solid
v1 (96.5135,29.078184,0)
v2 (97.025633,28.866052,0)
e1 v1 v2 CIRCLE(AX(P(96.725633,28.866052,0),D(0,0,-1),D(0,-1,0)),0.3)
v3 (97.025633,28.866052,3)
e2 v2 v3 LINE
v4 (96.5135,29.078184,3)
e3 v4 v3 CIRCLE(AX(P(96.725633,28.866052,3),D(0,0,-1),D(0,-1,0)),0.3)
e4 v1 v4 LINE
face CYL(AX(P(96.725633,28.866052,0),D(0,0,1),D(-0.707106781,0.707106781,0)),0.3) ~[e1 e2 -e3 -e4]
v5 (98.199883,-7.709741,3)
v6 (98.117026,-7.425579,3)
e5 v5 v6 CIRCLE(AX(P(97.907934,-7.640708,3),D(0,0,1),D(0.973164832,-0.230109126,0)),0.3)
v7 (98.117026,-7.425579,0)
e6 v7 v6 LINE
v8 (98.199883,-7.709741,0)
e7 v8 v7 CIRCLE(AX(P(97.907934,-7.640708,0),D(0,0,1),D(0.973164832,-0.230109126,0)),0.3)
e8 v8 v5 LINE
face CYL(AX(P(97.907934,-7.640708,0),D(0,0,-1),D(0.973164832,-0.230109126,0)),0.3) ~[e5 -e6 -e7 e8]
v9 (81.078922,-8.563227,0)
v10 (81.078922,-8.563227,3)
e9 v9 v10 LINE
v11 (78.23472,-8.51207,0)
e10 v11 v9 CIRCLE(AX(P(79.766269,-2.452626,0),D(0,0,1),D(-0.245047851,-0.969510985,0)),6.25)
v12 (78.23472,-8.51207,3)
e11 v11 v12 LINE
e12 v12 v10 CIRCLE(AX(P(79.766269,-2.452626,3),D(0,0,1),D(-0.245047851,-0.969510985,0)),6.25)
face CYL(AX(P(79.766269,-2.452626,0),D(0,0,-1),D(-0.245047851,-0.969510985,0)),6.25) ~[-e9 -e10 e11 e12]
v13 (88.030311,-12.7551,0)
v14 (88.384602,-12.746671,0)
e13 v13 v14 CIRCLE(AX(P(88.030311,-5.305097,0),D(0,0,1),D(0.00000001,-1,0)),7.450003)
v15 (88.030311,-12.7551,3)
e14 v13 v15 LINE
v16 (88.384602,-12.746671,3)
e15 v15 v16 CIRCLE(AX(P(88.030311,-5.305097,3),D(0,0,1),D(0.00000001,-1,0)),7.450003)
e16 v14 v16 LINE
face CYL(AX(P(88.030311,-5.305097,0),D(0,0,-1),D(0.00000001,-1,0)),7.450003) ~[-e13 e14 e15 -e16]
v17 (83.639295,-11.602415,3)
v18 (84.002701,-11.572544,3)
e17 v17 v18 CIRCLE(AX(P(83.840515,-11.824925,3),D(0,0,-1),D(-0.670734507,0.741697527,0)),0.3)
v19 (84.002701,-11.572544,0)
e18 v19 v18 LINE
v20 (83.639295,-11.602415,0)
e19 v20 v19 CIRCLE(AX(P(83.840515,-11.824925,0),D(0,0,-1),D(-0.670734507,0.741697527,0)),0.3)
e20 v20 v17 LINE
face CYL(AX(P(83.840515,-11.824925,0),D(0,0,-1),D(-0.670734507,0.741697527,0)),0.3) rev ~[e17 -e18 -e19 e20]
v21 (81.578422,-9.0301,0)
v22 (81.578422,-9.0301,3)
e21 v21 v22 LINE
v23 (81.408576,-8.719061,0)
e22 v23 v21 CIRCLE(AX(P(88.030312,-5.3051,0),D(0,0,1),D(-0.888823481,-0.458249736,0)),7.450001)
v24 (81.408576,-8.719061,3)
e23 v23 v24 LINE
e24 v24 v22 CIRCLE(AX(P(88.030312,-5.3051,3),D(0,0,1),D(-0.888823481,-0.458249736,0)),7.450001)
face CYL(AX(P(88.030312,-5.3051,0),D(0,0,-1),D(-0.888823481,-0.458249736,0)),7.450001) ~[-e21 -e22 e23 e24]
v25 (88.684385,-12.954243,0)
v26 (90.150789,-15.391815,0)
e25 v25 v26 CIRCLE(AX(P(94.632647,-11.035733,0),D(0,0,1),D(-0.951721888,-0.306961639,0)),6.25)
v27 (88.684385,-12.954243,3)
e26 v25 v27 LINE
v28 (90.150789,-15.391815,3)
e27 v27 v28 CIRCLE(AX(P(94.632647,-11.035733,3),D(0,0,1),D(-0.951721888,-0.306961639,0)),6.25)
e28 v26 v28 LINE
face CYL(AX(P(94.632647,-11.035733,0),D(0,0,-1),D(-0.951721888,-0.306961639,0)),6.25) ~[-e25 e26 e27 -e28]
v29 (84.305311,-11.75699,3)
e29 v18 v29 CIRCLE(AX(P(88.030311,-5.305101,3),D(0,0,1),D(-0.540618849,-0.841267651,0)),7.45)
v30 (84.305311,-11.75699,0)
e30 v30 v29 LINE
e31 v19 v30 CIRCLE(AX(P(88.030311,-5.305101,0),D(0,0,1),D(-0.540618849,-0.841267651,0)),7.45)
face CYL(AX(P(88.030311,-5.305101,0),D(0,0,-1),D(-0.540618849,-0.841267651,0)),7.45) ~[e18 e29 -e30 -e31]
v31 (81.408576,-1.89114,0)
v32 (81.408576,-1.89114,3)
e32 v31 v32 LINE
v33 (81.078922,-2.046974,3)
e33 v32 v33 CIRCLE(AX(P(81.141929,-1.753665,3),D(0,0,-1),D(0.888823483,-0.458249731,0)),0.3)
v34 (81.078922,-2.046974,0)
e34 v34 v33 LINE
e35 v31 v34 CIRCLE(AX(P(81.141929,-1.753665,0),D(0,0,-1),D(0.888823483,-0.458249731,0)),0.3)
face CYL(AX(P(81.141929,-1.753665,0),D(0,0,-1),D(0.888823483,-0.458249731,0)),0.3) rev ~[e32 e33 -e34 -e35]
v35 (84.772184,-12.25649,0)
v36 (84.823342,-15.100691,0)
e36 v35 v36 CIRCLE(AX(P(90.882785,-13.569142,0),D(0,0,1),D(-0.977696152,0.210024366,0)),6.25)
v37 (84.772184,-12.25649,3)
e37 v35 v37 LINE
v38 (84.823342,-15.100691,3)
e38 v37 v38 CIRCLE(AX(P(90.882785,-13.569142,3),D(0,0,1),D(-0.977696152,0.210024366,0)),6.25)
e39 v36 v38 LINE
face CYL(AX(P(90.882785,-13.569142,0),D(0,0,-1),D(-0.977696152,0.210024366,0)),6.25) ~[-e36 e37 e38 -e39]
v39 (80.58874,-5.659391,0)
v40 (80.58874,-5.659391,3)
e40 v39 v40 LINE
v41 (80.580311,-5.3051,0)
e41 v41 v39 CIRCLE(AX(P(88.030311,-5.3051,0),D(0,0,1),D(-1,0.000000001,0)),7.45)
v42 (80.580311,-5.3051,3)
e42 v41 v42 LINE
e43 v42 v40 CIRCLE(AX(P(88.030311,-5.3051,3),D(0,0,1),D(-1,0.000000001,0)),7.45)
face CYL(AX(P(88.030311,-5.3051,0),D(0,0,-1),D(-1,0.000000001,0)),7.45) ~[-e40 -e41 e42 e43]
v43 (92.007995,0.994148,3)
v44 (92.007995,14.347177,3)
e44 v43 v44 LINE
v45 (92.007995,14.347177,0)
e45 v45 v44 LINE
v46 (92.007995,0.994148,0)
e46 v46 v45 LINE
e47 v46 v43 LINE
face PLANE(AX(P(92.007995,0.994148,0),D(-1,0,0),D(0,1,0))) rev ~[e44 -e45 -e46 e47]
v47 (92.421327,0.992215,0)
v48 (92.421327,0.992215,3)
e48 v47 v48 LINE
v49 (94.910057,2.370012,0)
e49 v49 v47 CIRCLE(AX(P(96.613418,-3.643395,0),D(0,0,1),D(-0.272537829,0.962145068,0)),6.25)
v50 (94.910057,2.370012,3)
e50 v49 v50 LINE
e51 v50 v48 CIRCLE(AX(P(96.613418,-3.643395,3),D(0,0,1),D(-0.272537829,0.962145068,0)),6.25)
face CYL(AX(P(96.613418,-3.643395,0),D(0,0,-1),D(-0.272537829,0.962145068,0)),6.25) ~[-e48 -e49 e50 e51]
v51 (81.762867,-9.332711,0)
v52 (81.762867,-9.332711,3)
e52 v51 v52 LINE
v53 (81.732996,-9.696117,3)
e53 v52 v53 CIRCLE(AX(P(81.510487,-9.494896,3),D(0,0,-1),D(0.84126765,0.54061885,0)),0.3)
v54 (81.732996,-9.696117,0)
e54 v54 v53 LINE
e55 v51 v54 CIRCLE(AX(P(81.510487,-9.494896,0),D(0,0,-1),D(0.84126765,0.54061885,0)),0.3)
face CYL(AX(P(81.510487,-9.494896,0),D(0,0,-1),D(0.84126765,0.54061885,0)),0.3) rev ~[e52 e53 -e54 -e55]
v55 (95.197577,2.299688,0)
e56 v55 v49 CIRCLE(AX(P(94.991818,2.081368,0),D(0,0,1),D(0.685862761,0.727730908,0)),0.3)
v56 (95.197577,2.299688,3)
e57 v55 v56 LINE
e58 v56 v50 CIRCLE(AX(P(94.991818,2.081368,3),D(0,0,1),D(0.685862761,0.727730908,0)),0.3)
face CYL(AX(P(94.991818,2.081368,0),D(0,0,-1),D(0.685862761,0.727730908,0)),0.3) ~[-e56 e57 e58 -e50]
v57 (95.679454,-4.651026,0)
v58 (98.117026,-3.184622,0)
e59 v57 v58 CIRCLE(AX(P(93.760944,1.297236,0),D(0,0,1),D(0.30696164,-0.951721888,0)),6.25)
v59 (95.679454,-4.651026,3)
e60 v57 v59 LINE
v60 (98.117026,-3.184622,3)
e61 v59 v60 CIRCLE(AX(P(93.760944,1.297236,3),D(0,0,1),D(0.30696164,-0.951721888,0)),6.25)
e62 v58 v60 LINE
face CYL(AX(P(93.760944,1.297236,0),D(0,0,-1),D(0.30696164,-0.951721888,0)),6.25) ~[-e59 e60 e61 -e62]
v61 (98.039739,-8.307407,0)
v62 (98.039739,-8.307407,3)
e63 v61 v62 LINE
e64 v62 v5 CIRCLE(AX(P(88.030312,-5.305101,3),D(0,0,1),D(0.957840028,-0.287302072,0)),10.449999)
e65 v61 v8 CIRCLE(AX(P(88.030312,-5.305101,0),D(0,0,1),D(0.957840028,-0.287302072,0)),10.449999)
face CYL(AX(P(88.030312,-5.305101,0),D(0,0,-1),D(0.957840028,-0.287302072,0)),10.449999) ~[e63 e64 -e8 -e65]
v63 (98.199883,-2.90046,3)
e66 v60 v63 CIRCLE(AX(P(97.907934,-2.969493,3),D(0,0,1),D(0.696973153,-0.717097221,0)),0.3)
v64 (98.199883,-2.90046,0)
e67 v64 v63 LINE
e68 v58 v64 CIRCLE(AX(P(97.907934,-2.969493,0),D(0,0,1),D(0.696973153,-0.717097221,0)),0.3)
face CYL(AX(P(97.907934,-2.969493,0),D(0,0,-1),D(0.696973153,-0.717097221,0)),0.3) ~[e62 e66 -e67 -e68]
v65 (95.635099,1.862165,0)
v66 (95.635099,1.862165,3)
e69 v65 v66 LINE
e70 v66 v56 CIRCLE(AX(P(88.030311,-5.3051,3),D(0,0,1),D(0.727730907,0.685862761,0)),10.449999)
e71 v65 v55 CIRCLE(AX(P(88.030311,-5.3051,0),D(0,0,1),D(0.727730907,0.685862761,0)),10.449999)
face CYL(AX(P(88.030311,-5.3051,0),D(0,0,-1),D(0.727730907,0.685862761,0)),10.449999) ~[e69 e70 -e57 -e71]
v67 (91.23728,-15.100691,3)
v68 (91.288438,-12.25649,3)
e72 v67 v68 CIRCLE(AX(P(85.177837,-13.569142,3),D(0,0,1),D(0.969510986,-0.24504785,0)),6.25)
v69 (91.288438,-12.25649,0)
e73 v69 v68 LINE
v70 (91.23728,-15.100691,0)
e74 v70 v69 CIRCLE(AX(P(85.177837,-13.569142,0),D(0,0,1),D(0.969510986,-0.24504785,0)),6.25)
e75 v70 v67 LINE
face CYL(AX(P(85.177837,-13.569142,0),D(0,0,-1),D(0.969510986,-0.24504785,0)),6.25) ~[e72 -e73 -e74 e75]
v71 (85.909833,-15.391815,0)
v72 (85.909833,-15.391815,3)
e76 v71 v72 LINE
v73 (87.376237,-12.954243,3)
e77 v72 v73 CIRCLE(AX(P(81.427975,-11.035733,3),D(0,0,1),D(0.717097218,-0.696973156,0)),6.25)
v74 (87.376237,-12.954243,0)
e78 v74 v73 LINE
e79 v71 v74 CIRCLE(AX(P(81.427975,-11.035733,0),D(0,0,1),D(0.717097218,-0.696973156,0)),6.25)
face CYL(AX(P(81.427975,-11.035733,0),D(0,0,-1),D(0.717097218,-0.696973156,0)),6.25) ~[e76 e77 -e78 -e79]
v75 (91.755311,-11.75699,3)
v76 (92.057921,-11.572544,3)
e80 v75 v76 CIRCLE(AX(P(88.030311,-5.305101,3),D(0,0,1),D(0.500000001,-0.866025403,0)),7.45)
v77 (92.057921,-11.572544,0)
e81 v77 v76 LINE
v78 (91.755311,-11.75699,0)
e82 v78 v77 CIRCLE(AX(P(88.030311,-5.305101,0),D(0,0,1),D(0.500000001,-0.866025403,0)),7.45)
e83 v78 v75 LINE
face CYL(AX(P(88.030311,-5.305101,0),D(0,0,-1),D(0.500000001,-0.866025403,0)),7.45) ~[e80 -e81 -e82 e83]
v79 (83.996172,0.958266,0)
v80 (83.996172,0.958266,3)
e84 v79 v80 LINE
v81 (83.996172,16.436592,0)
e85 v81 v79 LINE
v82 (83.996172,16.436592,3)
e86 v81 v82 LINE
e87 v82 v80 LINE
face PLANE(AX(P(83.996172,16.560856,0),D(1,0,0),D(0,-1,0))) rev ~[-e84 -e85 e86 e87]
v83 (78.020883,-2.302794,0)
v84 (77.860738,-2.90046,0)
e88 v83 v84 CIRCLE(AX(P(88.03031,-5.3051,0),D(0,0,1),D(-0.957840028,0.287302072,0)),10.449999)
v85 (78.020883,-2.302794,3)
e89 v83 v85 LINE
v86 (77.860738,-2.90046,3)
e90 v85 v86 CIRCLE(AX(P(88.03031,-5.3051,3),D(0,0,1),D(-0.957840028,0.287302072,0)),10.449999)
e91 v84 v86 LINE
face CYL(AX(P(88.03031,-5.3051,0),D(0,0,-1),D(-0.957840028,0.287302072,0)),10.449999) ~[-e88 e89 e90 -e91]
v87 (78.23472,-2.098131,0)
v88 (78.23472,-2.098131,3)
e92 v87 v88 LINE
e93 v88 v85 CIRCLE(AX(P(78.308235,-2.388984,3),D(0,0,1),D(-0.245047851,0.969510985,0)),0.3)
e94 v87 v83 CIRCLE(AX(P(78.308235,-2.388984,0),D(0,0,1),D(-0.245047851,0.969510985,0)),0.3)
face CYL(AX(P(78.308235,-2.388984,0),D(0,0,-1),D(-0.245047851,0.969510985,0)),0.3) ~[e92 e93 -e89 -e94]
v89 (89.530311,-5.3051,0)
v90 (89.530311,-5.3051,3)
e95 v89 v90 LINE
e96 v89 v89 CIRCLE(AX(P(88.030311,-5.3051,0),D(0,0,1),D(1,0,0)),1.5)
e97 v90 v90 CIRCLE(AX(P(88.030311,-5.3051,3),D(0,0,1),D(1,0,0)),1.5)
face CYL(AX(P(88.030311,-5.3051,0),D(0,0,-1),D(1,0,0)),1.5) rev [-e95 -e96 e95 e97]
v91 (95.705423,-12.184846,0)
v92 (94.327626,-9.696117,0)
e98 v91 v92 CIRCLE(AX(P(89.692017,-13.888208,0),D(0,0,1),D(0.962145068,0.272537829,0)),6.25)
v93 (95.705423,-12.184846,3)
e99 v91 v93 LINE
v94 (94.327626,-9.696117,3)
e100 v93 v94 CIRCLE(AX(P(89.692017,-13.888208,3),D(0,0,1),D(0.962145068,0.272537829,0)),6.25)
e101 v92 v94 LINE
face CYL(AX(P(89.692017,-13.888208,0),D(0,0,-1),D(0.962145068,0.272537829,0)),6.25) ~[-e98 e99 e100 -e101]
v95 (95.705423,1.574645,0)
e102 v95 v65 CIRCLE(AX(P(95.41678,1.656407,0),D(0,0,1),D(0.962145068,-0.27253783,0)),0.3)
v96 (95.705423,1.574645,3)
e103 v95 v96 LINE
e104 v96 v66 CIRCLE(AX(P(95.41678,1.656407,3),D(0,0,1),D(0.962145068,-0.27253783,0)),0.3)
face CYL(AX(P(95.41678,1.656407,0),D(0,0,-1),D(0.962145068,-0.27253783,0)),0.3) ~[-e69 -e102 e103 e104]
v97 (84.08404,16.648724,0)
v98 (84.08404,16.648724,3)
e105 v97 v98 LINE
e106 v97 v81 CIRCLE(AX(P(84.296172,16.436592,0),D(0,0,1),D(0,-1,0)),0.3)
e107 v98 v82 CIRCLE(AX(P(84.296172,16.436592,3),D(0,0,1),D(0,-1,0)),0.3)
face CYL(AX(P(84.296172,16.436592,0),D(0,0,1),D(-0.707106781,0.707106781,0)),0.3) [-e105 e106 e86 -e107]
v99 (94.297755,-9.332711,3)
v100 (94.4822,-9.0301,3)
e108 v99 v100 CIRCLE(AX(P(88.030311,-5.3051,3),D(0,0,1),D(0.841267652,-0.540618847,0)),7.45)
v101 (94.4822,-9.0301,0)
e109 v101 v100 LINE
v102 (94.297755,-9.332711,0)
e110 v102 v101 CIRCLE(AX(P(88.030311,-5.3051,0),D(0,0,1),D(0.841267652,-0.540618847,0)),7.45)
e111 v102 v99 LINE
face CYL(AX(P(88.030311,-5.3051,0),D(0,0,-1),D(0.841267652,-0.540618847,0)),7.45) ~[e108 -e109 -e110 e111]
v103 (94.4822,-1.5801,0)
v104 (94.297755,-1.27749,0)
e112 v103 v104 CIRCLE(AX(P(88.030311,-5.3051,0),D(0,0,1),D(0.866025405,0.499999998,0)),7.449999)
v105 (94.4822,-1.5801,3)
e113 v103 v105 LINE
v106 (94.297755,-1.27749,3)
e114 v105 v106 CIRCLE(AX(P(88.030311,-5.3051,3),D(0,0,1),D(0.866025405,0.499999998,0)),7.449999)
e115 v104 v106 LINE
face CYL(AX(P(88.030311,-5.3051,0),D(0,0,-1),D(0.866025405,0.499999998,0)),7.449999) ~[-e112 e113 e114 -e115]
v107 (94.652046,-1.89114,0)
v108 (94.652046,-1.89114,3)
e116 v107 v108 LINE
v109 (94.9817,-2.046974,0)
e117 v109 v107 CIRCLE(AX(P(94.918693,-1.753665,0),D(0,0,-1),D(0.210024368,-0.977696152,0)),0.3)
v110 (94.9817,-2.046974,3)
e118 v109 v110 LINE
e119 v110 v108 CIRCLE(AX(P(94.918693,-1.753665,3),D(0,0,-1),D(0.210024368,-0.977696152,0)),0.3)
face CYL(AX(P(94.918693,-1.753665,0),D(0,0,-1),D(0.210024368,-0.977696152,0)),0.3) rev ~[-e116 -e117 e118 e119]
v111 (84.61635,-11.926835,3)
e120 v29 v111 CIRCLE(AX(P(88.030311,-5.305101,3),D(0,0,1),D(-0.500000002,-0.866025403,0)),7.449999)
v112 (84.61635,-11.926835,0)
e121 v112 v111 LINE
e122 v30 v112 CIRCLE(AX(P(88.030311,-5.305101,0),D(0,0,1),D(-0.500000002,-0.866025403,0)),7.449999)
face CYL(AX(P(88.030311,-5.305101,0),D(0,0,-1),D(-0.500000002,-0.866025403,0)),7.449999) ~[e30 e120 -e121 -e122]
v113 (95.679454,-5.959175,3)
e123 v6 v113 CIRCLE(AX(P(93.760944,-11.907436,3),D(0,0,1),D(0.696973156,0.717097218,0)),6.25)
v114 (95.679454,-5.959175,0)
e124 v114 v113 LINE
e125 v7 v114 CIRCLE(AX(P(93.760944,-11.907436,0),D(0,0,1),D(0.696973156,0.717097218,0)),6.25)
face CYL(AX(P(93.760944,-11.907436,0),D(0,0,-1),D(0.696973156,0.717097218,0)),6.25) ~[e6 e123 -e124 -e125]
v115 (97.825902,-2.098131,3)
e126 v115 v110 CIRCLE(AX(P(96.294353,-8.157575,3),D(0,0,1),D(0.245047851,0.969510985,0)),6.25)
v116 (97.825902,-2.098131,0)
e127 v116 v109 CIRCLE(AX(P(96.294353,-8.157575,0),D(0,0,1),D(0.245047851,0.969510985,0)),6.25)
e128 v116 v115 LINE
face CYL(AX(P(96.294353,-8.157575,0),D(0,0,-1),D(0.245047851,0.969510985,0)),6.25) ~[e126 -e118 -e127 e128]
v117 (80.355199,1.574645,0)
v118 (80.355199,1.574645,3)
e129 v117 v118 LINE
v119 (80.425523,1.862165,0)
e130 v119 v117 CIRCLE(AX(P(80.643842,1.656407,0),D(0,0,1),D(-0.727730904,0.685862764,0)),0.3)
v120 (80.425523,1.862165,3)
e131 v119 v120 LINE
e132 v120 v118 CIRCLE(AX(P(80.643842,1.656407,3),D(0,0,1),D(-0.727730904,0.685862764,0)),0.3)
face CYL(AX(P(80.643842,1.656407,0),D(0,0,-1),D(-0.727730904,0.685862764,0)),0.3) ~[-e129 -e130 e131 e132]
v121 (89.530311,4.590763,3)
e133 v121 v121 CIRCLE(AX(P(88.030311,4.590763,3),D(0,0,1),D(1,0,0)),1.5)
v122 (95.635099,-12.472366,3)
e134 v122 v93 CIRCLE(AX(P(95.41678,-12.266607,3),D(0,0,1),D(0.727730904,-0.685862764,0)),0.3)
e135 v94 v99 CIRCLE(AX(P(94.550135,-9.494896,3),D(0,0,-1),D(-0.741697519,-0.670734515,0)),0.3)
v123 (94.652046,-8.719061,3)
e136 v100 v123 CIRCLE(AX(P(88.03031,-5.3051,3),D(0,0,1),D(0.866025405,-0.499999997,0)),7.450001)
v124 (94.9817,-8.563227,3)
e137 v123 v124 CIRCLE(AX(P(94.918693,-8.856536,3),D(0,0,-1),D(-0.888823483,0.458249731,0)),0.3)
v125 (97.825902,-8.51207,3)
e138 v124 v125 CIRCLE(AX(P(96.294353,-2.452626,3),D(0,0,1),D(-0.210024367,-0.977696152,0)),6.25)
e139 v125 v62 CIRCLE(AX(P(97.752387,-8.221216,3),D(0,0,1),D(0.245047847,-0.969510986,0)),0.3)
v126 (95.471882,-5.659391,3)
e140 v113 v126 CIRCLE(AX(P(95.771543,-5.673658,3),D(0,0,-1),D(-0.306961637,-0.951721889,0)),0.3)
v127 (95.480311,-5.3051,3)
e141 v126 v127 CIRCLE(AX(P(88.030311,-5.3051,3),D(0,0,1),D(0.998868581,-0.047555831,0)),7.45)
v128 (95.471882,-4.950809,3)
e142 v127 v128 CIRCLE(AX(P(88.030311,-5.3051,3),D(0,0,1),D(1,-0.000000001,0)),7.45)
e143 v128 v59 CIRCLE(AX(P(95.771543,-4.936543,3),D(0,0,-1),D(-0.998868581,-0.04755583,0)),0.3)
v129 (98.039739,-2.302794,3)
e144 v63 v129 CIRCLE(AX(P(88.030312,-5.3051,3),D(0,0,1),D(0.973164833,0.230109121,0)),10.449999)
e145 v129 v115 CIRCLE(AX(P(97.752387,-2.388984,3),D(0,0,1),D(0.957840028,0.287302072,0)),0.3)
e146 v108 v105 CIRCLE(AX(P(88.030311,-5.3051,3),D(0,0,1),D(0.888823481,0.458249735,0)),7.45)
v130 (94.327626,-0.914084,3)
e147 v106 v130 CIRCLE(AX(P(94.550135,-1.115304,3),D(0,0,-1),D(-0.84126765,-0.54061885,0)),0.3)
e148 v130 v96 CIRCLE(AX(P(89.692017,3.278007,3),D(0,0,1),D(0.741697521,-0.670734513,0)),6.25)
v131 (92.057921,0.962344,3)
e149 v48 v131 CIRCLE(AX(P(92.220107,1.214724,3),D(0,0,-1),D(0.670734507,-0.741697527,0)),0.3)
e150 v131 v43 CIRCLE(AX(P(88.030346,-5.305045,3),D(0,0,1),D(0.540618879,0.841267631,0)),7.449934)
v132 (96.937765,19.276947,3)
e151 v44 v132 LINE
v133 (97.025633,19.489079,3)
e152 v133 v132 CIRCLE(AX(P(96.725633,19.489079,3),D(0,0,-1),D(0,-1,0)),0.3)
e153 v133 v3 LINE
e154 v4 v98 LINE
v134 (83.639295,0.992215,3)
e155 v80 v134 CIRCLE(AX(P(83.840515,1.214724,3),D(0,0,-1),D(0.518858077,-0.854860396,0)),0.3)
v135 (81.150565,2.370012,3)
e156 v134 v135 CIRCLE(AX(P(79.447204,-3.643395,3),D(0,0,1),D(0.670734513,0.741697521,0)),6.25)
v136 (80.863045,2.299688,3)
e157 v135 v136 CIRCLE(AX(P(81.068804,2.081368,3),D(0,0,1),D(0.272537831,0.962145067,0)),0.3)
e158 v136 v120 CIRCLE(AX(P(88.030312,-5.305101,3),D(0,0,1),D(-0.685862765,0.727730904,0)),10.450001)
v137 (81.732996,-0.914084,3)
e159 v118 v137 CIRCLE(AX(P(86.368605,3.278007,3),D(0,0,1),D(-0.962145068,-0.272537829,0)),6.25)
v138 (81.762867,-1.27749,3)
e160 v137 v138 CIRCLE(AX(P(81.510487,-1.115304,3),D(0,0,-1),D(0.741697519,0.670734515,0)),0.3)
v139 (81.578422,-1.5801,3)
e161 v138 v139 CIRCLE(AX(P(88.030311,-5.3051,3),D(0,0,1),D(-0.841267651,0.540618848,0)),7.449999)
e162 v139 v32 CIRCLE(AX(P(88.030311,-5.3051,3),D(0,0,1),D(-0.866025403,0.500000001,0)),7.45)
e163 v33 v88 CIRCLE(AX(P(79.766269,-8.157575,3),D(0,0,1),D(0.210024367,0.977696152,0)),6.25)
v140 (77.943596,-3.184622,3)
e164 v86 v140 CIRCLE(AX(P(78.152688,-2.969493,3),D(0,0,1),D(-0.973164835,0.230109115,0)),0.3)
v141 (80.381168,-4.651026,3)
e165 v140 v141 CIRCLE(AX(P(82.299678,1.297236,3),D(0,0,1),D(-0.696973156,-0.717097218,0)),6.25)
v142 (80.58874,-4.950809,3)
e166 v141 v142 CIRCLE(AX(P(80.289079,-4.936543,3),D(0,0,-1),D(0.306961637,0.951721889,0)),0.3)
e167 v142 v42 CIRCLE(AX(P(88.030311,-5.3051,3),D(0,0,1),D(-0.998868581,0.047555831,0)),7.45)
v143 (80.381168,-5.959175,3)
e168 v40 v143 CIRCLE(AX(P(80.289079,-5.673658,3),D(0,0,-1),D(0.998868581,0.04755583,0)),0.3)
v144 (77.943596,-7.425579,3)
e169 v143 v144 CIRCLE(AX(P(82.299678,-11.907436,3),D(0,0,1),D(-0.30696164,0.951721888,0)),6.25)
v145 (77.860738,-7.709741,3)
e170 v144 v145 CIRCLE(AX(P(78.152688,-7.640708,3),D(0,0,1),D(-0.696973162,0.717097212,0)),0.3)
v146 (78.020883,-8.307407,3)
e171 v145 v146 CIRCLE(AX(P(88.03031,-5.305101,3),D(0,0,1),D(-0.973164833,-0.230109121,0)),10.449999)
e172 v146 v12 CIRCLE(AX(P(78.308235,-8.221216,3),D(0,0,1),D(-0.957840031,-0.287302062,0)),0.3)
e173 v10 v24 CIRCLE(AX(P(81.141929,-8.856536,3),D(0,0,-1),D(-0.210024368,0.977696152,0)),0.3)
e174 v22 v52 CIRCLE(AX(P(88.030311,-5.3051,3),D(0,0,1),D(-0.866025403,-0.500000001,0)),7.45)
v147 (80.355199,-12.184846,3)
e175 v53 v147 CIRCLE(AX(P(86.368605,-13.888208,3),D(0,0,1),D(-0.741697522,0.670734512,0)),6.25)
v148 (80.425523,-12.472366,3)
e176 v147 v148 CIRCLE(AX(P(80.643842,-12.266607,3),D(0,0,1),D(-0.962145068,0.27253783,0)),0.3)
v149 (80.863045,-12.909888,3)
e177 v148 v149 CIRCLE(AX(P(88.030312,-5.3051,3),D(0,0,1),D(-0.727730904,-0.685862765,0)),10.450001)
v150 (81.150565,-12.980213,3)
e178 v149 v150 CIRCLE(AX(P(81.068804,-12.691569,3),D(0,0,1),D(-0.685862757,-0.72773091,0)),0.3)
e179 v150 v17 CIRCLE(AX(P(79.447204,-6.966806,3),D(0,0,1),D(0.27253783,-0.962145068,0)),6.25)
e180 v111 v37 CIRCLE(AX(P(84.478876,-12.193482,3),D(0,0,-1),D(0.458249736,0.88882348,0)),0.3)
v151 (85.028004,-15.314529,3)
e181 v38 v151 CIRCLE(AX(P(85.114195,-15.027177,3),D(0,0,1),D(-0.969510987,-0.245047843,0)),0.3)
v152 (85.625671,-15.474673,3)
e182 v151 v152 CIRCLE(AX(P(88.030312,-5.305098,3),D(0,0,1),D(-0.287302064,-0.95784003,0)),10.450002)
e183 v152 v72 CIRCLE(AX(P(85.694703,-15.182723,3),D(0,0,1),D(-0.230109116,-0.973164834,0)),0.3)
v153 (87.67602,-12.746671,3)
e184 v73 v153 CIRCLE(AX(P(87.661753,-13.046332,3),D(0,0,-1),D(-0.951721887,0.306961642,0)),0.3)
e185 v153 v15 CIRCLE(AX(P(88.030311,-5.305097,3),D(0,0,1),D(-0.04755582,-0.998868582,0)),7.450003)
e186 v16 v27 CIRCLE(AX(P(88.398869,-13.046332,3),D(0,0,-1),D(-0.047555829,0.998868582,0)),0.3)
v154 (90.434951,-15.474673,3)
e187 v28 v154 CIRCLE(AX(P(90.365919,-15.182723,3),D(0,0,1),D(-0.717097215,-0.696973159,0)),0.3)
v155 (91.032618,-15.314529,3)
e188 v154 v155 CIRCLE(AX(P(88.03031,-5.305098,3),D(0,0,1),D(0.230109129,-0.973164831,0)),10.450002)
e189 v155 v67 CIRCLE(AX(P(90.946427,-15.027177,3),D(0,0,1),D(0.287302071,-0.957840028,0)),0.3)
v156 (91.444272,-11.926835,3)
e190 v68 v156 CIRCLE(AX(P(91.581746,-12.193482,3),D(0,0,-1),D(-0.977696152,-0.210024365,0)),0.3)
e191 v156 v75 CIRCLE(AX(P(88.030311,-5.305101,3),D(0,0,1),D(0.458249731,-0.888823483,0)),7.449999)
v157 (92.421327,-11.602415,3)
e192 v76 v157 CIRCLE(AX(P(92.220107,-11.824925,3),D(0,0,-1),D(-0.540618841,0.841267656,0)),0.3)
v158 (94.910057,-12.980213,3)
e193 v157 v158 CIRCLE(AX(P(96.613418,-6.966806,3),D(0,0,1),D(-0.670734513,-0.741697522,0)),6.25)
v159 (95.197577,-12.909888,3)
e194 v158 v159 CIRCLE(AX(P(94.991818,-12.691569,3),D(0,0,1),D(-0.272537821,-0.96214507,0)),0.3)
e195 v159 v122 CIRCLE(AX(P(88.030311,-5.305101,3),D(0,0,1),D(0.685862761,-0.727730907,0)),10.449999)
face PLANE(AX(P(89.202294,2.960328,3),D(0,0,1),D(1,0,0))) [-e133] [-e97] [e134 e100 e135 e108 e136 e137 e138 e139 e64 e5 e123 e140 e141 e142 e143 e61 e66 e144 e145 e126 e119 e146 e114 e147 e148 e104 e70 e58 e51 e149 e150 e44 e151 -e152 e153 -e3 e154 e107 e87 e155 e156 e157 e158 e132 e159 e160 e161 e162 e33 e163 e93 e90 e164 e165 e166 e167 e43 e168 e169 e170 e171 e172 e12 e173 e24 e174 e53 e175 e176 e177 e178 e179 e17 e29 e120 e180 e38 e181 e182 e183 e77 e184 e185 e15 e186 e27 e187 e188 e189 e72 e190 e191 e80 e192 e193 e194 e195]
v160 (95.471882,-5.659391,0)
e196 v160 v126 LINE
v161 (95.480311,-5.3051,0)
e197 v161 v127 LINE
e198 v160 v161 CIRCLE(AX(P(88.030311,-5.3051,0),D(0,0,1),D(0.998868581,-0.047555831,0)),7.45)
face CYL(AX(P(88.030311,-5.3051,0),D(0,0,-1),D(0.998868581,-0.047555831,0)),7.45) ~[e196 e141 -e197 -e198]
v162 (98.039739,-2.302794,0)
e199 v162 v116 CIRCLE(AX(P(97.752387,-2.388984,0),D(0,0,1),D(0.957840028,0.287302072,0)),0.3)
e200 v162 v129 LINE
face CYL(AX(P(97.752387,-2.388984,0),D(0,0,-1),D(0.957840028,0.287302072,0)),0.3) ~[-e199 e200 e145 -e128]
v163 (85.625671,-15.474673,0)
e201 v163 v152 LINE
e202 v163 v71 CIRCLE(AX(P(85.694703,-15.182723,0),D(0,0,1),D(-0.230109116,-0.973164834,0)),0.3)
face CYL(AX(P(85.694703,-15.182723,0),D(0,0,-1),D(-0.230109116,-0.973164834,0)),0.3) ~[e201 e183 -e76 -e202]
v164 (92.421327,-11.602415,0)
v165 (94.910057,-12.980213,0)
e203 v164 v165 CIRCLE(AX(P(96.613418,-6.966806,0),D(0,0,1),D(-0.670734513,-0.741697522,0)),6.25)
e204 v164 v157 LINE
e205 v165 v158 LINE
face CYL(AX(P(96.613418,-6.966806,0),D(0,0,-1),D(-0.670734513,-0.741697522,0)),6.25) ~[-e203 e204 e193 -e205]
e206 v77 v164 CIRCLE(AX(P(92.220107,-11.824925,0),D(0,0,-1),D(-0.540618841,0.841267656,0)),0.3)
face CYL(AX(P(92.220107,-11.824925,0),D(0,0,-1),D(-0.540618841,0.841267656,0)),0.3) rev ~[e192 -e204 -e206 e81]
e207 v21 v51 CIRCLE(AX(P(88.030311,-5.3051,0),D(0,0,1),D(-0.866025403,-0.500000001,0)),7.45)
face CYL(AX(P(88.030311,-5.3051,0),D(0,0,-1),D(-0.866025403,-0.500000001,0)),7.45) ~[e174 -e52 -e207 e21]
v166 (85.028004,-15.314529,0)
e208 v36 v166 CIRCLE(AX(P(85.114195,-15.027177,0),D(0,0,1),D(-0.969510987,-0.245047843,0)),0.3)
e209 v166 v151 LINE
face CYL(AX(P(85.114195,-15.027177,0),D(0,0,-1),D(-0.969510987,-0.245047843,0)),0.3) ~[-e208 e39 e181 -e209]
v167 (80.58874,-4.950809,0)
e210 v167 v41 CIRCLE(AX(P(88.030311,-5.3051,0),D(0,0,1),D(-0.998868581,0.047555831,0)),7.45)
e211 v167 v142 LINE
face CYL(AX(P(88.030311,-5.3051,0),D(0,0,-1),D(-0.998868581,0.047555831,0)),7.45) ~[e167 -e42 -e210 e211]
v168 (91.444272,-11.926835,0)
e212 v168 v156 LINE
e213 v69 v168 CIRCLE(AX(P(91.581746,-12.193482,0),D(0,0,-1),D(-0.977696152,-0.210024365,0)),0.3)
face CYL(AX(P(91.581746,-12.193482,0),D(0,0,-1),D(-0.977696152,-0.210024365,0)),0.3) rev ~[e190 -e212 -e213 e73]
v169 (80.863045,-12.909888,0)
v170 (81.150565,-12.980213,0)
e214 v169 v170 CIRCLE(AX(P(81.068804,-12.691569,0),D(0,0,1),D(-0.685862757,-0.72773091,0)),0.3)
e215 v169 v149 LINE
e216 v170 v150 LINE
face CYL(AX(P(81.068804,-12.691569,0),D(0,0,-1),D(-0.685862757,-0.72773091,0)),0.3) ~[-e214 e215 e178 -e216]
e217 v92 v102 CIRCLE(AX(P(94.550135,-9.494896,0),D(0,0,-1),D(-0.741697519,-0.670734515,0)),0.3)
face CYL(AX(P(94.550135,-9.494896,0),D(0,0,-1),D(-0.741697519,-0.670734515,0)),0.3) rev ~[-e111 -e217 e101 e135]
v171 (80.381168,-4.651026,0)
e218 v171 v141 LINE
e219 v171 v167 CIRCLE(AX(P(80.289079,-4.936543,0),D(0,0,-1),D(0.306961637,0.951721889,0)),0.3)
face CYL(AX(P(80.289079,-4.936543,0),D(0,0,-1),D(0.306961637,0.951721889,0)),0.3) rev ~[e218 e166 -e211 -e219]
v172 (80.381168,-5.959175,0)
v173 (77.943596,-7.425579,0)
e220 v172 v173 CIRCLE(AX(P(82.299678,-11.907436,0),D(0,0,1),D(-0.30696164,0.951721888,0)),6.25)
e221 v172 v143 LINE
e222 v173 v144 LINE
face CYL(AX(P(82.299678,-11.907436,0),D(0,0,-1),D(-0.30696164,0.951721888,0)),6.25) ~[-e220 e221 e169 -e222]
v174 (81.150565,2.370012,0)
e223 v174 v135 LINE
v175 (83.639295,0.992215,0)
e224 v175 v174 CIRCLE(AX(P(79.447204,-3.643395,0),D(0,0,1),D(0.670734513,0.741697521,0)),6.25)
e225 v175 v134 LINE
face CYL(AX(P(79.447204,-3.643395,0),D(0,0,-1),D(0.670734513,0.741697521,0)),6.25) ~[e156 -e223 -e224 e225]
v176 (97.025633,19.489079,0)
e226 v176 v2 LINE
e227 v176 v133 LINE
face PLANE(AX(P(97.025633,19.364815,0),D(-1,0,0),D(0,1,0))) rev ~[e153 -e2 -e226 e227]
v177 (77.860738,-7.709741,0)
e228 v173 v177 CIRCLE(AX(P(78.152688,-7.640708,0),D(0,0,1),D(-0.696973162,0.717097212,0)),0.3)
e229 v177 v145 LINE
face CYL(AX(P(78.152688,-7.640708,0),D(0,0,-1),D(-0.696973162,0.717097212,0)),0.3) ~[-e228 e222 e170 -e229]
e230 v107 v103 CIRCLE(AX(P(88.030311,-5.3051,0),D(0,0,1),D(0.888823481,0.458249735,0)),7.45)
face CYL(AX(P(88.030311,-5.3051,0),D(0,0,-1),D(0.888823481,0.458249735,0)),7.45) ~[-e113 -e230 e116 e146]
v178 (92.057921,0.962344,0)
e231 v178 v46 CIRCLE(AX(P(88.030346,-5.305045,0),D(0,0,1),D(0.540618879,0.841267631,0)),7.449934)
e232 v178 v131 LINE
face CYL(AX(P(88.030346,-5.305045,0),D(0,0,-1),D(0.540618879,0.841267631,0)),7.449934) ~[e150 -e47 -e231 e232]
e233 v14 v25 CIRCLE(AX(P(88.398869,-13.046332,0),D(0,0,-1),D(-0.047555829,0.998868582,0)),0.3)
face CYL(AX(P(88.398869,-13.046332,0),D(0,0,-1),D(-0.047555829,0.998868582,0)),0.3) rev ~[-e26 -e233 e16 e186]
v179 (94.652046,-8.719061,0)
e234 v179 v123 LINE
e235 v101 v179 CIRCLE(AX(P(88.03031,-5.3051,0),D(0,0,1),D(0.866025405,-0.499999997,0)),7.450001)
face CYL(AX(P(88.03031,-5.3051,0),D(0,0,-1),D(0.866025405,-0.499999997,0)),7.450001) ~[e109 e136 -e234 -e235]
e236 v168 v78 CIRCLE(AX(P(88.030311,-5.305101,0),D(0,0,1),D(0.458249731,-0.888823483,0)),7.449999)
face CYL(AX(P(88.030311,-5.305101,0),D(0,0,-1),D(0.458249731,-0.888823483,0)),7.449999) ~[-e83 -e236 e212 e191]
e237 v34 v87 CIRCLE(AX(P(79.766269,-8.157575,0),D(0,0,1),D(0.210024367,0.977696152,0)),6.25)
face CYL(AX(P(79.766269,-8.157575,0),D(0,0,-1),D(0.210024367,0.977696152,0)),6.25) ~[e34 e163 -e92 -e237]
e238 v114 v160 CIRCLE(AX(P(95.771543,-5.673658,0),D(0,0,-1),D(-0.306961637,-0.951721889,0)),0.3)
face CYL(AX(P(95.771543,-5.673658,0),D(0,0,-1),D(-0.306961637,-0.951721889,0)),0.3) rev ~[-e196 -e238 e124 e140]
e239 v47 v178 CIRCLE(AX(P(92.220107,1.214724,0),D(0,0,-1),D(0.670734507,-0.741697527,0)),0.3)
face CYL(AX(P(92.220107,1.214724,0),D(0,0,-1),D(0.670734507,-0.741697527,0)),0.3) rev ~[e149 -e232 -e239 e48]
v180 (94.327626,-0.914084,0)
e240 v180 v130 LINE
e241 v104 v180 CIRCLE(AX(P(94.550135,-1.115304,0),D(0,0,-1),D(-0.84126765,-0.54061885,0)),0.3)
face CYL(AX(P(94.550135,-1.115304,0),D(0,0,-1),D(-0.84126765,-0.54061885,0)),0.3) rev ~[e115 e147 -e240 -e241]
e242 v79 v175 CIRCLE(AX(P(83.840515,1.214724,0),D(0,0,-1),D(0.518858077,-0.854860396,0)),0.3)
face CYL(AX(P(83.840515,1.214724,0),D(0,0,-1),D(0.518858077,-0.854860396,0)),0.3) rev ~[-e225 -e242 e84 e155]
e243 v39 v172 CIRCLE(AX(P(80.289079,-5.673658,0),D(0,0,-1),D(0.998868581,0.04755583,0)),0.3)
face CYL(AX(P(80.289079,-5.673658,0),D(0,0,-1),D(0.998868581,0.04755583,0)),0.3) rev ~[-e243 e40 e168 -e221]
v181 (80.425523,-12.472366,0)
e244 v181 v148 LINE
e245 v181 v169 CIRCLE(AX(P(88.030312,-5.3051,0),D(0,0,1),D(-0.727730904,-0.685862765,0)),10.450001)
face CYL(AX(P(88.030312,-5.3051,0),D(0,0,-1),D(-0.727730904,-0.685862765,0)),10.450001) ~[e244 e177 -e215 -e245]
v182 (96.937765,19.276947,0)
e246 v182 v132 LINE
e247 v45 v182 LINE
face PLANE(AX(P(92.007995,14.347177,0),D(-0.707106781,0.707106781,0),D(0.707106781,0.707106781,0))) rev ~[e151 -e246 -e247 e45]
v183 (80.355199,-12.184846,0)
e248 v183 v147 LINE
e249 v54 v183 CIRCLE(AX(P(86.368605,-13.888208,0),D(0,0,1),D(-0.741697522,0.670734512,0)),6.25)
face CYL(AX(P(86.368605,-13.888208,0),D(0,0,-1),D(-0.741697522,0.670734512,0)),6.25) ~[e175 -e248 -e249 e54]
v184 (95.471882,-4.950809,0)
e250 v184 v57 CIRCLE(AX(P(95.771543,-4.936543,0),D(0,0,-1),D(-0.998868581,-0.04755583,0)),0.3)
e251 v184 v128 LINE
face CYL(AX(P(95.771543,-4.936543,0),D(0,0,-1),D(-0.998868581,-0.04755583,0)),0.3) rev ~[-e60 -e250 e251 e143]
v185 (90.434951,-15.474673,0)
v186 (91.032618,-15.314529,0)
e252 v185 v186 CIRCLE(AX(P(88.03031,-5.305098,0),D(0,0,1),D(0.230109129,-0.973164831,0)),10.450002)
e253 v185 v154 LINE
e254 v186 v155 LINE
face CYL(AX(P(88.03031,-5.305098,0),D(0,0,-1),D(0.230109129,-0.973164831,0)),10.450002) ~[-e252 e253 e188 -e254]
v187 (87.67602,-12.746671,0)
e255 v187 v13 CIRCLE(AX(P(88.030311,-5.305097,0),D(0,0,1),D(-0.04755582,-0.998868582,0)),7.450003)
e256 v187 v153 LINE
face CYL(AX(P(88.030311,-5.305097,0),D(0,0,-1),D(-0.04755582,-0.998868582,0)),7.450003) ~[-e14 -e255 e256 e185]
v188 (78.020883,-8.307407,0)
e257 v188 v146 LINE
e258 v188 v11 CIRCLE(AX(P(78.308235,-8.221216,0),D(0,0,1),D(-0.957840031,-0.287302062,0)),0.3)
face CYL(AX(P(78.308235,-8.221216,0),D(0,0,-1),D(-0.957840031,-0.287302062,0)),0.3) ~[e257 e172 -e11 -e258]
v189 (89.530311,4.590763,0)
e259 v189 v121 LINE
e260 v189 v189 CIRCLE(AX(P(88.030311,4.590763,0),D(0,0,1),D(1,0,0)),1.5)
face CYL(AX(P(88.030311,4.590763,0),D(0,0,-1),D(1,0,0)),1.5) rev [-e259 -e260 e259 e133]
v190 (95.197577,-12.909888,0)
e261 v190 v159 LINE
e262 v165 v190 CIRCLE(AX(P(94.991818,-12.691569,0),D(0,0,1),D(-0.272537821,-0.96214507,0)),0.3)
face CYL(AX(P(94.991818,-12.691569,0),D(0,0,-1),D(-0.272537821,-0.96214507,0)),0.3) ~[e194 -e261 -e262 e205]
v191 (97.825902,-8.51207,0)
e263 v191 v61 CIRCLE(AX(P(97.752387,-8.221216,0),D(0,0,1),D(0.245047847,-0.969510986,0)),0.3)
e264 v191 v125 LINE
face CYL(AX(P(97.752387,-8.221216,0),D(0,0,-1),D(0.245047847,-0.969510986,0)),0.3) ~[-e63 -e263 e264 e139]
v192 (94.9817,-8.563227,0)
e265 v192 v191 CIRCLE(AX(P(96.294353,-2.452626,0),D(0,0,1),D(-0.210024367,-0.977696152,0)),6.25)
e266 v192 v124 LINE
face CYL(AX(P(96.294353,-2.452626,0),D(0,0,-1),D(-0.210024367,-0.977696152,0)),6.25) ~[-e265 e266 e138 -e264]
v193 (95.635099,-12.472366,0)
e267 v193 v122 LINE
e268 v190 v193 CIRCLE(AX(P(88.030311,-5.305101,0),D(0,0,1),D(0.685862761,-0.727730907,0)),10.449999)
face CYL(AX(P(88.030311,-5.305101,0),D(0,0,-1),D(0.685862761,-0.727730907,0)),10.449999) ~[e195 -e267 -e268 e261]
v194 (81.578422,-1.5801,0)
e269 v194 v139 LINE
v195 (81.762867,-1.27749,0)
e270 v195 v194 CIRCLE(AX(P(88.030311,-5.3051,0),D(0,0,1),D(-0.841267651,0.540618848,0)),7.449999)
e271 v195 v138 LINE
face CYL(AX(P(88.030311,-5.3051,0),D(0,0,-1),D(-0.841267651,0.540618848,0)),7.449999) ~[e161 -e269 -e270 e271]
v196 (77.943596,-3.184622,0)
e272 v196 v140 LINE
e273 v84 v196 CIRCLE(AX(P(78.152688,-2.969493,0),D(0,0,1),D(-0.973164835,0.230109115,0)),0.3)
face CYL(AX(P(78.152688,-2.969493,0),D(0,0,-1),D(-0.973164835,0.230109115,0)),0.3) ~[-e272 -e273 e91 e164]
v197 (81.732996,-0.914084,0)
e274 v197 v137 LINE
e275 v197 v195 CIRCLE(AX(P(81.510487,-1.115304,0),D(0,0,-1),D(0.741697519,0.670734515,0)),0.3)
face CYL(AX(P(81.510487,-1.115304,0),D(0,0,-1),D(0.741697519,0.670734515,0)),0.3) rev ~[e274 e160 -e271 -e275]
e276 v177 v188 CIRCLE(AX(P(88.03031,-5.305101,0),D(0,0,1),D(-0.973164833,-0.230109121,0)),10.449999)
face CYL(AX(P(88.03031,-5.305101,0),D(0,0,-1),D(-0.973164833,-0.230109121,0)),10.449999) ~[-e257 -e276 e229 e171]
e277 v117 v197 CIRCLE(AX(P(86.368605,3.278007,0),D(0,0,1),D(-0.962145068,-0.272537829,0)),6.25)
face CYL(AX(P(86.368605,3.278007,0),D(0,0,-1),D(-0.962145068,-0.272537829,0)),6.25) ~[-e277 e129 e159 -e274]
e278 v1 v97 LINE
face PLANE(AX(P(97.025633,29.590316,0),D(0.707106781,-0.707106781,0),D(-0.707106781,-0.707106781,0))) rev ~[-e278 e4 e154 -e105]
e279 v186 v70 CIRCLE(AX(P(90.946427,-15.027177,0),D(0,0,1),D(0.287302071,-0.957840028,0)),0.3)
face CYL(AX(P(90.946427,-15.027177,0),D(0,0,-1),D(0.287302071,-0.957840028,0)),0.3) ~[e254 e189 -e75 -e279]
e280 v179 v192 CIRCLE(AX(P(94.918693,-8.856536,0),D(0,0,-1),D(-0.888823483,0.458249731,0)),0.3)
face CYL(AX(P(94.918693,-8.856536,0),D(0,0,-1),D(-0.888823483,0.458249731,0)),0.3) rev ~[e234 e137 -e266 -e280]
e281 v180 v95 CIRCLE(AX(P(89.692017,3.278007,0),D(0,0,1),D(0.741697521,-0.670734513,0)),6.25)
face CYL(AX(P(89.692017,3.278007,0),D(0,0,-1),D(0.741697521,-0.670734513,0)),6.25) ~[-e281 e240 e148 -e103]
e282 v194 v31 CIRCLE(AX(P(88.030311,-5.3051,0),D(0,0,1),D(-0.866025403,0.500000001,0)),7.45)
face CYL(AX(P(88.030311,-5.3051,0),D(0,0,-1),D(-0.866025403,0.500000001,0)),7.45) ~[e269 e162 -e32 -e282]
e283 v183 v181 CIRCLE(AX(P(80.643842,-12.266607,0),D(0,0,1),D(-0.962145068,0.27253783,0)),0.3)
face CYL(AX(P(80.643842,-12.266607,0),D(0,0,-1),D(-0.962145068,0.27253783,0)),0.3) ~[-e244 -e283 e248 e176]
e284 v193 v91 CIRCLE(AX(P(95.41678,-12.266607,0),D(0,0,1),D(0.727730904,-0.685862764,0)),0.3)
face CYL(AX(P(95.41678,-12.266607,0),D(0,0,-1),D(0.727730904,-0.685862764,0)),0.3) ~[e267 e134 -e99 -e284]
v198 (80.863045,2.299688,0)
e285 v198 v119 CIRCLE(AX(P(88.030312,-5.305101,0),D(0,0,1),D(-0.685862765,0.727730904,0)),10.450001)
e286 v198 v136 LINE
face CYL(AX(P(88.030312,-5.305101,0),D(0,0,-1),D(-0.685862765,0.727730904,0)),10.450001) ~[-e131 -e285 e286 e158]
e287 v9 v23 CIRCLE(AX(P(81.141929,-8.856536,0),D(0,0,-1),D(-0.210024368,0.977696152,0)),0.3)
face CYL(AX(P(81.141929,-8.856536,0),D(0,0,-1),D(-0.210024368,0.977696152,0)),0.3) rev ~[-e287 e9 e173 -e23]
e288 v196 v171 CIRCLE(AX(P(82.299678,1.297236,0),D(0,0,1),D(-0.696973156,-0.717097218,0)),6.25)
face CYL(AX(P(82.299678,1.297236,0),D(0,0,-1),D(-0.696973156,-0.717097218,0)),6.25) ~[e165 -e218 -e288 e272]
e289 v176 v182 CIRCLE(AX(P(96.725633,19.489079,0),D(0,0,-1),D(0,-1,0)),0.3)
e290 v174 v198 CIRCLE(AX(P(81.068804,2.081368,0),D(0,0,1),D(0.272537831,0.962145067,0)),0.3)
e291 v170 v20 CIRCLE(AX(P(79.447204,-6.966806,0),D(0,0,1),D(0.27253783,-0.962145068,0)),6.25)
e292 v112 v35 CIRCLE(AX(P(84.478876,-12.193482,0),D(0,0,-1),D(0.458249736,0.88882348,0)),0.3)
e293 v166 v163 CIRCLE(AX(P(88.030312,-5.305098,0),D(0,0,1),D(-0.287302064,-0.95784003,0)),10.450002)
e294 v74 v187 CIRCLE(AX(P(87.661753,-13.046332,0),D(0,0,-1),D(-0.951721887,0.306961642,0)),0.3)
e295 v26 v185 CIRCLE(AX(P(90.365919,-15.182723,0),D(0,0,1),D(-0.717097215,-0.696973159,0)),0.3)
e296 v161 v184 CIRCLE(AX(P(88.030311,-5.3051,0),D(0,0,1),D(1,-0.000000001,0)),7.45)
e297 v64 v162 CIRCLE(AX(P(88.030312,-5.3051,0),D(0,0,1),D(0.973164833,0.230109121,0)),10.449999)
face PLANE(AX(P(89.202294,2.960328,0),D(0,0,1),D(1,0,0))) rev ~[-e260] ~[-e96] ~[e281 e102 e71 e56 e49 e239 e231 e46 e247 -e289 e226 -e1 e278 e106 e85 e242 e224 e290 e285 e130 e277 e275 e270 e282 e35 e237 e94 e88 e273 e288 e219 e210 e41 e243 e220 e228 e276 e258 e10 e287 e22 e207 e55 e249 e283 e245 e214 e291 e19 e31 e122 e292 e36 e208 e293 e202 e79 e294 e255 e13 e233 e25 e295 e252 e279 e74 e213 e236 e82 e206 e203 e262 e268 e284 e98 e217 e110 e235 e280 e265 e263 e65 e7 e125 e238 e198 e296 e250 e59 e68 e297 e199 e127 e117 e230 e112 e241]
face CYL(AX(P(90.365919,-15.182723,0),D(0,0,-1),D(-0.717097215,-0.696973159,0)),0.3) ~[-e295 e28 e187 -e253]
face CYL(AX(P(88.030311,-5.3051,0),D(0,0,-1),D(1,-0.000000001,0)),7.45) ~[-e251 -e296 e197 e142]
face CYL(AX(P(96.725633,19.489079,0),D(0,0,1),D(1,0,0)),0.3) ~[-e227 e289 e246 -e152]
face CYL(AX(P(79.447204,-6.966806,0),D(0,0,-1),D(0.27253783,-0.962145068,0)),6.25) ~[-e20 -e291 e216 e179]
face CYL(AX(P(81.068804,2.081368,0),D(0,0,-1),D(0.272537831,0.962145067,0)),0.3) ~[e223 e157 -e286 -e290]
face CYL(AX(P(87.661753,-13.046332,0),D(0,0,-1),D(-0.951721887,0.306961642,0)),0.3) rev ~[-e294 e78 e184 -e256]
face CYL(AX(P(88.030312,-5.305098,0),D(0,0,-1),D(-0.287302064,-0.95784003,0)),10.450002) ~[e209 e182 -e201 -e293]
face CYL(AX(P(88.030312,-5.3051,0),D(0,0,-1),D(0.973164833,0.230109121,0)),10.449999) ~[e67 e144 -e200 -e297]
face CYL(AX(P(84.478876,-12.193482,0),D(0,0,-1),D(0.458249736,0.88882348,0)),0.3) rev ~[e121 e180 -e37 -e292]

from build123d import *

# Parameters (mm, degrees)
ESQUISSE18_R        = 1.5
BOSS_EXTRU_18_DEPTH = 3
CONG_1_R            = 0.3


with BuildPart() as part:
    # Esquisse18 → Boss.-Extru.18 (new body)
    with BuildSketch(Plane.XY):
        with BuildLine():
            Line((97.025632531, 29.590316063), (83.99617235, 16.560855882))
            Line((83.99617235, 16.560855882), (83.99617235, 0.958265781))
            ThreePointArc((83.99617235, 0.958265781), (83.812104956, 0.91607214), (83.639294573, 0.992214643))
            ThreePointArc((83.639294573, 0.992214643), (82.474359337, 1.824587373), (81.150565301, 2.370011808))
            ThreePointArc((81.150565301, 2.370011808), (80.997528298, 2.372778276), (80.863045123, 2.29968756))
            ThreePointArc((80.863045123, 2.29968756), (80.641045132, 2.084165463), (80.425523035, 1.862165472))
            ThreePointArc((80.425523035, 1.862165472), (80.352432318, 1.727682296), (80.355198786, 1.574645294))
            ThreePointArc((80.355198786, 1.574645294), (80.900623221, 0.250851257), (81.732995951, -0.914083979))
            ThreePointArc((81.732995951, -0.914083979), (81.809478339, -1.090727988), (81.76286699, -1.277489987))
            ThreePointArc((81.76286699, -1.277489987), (81.668844739, -1.427698297), (81.578421737, -1.580100401))
            ThreePointArc((81.578421737, -1.580100401), (81.491649145, -1.734610069), (81.408576058, -1.891139882))
            ThreePointArc((81.408576058, -1.891139882), (81.270141097, -2.024887494), (81.078921703, -2.046973808))
            ThreePointArc((81.078921703, -2.046973808), (79.65387183, -1.908585496), (78.234720348, -2.098131098))
            ThreePointArc((78.234720348, -2.098131098), (78.100803182, -2.172253768), (78.020882694, -2.302793773))
            ThreePointArc((78.020882694, -2.302793773), (77.93638611, -2.600441379), (77.860738495, -2.90046006))
            ThreePointArc((77.860738495, -2.90046006), (77.864681666, -3.053471264), (77.943595998, -3.184621962))
            ThreePointArc((77.943595998, -3.184621962), (79.077844433, -4.058349009), (80.38116798, -4.651026153))
            ThreePointArc((80.38116798, -4.651026153), (80.535725676, -4.765763159), (80.588740063, -4.950809468))
            ThreePointArc((80.588740063, -4.950809468), (80.58241856, -5.127904807), (80.580310995, -5.305100401))
            ThreePointArc((80.580310995, -5.305100401), (80.58241856, -5.482295995), (80.588740063, -5.659391333))
            ThreePointArc((80.588740063, -5.659391333), (80.535725676, -5.844437642), (80.38116798, -5.959174648))
            ThreePointArc((80.38116798, -5.959174648), (79.077844433, -6.551851792), (77.943595998, -7.425578839))
            ThreePointArc((77.943595998, -7.425578839), (77.864681666, -7.556729537), (77.860738495, -7.709740741))
            ThreePointArc((77.860738495, -7.709740741), (77.93638611, -8.009759422), (78.020882694, -8.307407028))
            ThreePointArc((78.020882694, -8.307407028), (78.100803182, -8.437947034), (78.234720348, -8.512069703))
            ThreePointArc((78.234720348, -8.512069703), (79.65387183, -8.701615305), (81.078921703, -8.563226993))
            ThreePointArc((81.078921703, -8.563226993), (81.270141097, -8.585313307), (81.408576058, -8.719060919))
            ThreePointArc((81.408576058, -8.719060919), (81.491649145, -8.875590732), (81.578421737, -9.030100401))
            ThreePointArc((81.578421737, -9.030100401), (81.668844739, -9.182502504), (81.76286699, -9.332710814))
            ThreePointArc((81.76286699, -9.332710814), (81.809478339, -9.519472813), (81.732995951, -9.696116822))
            ThreePointArc((81.732995951, -9.696116822), (80.900623221, -10.861052059), (80.355198786, -12.184846095))
            ThreePointArc((80.355198786, -12.184846095), (80.352432318, -12.337883097), (80.425523035, -12.472366273))
            ThreePointArc((80.425523035, -12.472366273), (80.641045132, -12.694366264), (80.863045123, -12.909888361))
            ThreePointArc((80.863045123, -12.909888361), (80.997528298, -12.982979077), (81.150565301, -12.98021261))
            ThreePointArc((81.150565301, -12.98021261), (82.474359337, -12.434788174), (83.639294573, -11.602415444))
            ThreePointArc((83.639294573, -11.602415444), (83.815938583, -11.525933057), (84.002700581, -11.572544405))
            ThreePointArc((84.002700581, -11.572544405), (84.152908892, -11.666566657), (84.305310995, -11.756989659))
            ThreePointArc((84.305310995, -11.756989659), (84.459820663, -11.843762251), (84.616350477, -11.926835338))
            ThreePointArc((84.616350477, -11.926835338), (84.750098088, -12.065270299), (84.772184402, -12.256489692))
            ThreePointArc((84.772184402, -12.256489692), (84.633796091, -13.681539565), (84.823341693, -15.100691048))
            ThreePointArc((84.823341693, -15.100691048), (84.897464362, -15.234608214), (85.028004367, -15.314528702))
            ThreePointArc((85.028004367, -15.314528702), (85.325651974, -15.399025285), (85.625670654, -15.474672901))
            ThreePointArc((85.625670654, -15.474672901), (85.778681859, -15.47072973), (85.909832557, -15.391815398))
            ThreePointArc((85.909832557, -15.391815398), (86.783559604, -14.257566963), (87.376236747, -12.954243415))
            ThreePointArc((87.376236747, -12.954243415), (87.490973753, -12.79968572), (87.676020063, -12.746671333))
            ThreePointArc((87.676020063, -12.746671333), (87.853115401, -12.752992835), (88.030310995, -12.755100401))
            ThreePointArc((88.030310995, -12.755100401), (88.207506589, -12.752992835), (88.384601928, -12.746671333))
            ThreePointArc((88.384601928, -12.746671333), (88.569648237, -12.79968572), (88.684385243, -12.954243415))
            ThreePointArc((88.684385243, -12.954243415), (89.277062386, -14.257566963), (90.150789434, -15.391815398))
            ThreePointArc((90.150789434, -15.391815398), (90.281940131, -15.47072973), (90.434951336, -15.474672901))
            ThreePointArc((90.434951336, -15.474672901), (90.734970016, -15.399025285), (91.032617623, -15.314528702))
            ThreePointArc((91.032617623, -15.314528702), (91.163157628, -15.234608214), (91.237280298, -15.100691048))
            ThreePointArc((91.237280298, -15.100691048), (91.426825899, -13.681539565), (91.288437588, -12.256489692))
            ThreePointArc((91.288437588, -12.256489692), (91.310523902, -12.065270299), (91.444271513, -11.926835338))
            ThreePointArc((91.444271513, -11.926835338), (91.600801327, -11.843762251), (91.755310995, -11.756989659))
            ThreePointArc((91.755310995, -11.756989659), (91.907713098, -11.666566657), (92.057921409, -11.572544405))
            ThreePointArc((92.057921409, -11.572544405), (92.244683407, -11.525933057), (92.421327417, -11.602415444))
            ThreePointArc((92.421327417, -11.602415444), (93.586262653, -12.434788174), (94.91005669, -12.98021261))
            ThreePointArc((94.91005669, -12.98021261), (95.063093692, -12.982979077), (95.197576867, -12.909888361))
            ThreePointArc((95.197576867, -12.909888361), (95.419576859, -12.694366264), (95.635098955, -12.472366273))
            ThreePointArc((95.635098955, -12.472366273), (95.708189672, -12.337883097), (95.705423204, -12.184846095))
            ThreePointArc((95.705423204, -12.184846095), (95.159998769, -10.861052059), (94.327626039, -9.696116822))
            ThreePointArc((94.327626039, -9.696116822), (94.251143651, -9.519472813), (94.297755, -9.332710814))
            ThreePointArc((94.297755, -9.332710814), (94.391777251, -9.182502504), (94.482200253, -9.030100401))
            ThreePointArc((94.482200253, -9.030100401), (94.568972845, -8.875590732), (94.652045932, -8.719060919))
            ThreePointArc((94.652045932, -8.719060919), (94.790480893, -8.585313307), (94.981700287, -8.563226993))
            ThreePointArc((94.981700287, -8.563226993), (96.40675016, -8.701615305), (97.825901643, -8.512069703))
            ThreePointArc((97.825901643, -8.512069703), (97.959818808, -8.437947034), (98.039739296, -8.307407028))
            ThreePointArc((98.039739296, -8.307407028), (98.12423588, -8.009759422), (98.199883495, -7.709740741))
            ThreePointArc((98.199883495, -7.709740741), (98.195940325, -7.556729537), (98.117025992, -7.425578839))
            ThreePointArc((98.117025992, -7.425578839), (96.982777557, -6.551851792), (95.67945401, -5.959174648))
            ThreePointArc((95.67945401, -5.959174648), (95.524896314, -5.844437642), (95.471881927, -5.659391333))
            ThreePointArc((95.471881927, -5.659391333), (95.47820343, -5.482295994), (95.480310995, -5.305100401))
            ThreePointArc((95.480310995, -5.305100401), (95.47820343, -5.127904807), (95.471881927, -4.950809468))
            ThreePointArc((95.471881927, -4.950809468), (95.524896314, -4.765763159), (95.67945401, -4.651026153))
            ThreePointArc((95.67945401, -4.651026153), (96.982777557, -4.058349009), (98.117025992, -3.184621962))
            ThreePointArc((98.117025992, -3.184621962), (98.195940325, -3.053471264), (98.199883495, -2.90046006))
            ThreePointArc((98.199883495, -2.90046006), (98.12423588, -2.600441379), (98.039739296, -2.302793773))
            ThreePointArc((98.039739296, -2.302793773), (97.959818808, -2.172253768), (97.825901643, -2.098131098))
            ThreePointArc((97.825901643, -2.098131098), (96.40675016, -1.908585496), (94.981700287, -2.046973808))
            ThreePointArc((94.981700287, -2.046973808), (94.790480893, -2.024887494), (94.652045932, -1.891139882))
            ThreePointArc((94.652045932, -1.891139882), (94.568972845, -1.734610069), (94.482200253, -1.580100401))
            ThreePointArc((94.482200253, -1.580100401), (94.391777251, -1.427698297), (94.297755, -1.277489987))
            ThreePointArc((94.297755, -1.277489987), (94.251143651, -1.090727988), (94.327626039, -0.914083979))
            ThreePointArc((94.327626039, -0.914083979), (95.159998769, 0.250851257), (95.705423204, 1.574645294))
            ThreePointArc((95.705423204, 1.574645294), (95.708189672, 1.727682296), (95.635098955, 1.862165472))
            ThreePointArc((95.635098955, 1.862165472), (95.419576859, 2.084165463), (95.197576867, 2.29968756))
            ThreePointArc((95.197576867, 2.29968756), (95.063093692, 2.372778276), (94.91005669, 2.370011808))
            ThreePointArc((94.91005669, 2.370011808), (93.586262653, 1.824587373), (92.421327417, 0.992214643))
            ThreePointArc((92.421327417, 0.992214643), (92.244683407, 0.915732256), (92.057921409, 0.962343604))
            ThreePointArc((92.057921409, 0.962343604), (92.032989683, 0.978295443), (92.007994778, 0.994148104))
            Line((92.007994778, 0.994148104), (92.007994778, 14.347176993))
            Line((92.007994778, 14.347176993), (97.025632531, 19.364814746))
            Line((97.025632531, 19.364814746), (97.025632531, 29.590316063))
        make_face()
        with Locations((88.030310995, -5.305100401)):
            Circle(ESQUISSE18_R, mode=Mode.SUBTRACT)
        with Locations((88.030310995, 4.590763304)):
            Circle(ESQUISSE18_R, mode=Mode.SUBTRACT)
    extrude(amount=BOSS_EXTRU_18_DEPTH)

    # Congé1
    cong_1_edges = [part.edges().sort_by_distance(p)[0] for p in [
        (83.99617235, 16.560855882, 1.5),
        (97.025632531, 29.590316063, 1.5),
        (97.025632531, 19.364814746, 1.5),
    ]]
    fillet(cong_1_edges, radius=CONG_1_R)


solid = part.part
